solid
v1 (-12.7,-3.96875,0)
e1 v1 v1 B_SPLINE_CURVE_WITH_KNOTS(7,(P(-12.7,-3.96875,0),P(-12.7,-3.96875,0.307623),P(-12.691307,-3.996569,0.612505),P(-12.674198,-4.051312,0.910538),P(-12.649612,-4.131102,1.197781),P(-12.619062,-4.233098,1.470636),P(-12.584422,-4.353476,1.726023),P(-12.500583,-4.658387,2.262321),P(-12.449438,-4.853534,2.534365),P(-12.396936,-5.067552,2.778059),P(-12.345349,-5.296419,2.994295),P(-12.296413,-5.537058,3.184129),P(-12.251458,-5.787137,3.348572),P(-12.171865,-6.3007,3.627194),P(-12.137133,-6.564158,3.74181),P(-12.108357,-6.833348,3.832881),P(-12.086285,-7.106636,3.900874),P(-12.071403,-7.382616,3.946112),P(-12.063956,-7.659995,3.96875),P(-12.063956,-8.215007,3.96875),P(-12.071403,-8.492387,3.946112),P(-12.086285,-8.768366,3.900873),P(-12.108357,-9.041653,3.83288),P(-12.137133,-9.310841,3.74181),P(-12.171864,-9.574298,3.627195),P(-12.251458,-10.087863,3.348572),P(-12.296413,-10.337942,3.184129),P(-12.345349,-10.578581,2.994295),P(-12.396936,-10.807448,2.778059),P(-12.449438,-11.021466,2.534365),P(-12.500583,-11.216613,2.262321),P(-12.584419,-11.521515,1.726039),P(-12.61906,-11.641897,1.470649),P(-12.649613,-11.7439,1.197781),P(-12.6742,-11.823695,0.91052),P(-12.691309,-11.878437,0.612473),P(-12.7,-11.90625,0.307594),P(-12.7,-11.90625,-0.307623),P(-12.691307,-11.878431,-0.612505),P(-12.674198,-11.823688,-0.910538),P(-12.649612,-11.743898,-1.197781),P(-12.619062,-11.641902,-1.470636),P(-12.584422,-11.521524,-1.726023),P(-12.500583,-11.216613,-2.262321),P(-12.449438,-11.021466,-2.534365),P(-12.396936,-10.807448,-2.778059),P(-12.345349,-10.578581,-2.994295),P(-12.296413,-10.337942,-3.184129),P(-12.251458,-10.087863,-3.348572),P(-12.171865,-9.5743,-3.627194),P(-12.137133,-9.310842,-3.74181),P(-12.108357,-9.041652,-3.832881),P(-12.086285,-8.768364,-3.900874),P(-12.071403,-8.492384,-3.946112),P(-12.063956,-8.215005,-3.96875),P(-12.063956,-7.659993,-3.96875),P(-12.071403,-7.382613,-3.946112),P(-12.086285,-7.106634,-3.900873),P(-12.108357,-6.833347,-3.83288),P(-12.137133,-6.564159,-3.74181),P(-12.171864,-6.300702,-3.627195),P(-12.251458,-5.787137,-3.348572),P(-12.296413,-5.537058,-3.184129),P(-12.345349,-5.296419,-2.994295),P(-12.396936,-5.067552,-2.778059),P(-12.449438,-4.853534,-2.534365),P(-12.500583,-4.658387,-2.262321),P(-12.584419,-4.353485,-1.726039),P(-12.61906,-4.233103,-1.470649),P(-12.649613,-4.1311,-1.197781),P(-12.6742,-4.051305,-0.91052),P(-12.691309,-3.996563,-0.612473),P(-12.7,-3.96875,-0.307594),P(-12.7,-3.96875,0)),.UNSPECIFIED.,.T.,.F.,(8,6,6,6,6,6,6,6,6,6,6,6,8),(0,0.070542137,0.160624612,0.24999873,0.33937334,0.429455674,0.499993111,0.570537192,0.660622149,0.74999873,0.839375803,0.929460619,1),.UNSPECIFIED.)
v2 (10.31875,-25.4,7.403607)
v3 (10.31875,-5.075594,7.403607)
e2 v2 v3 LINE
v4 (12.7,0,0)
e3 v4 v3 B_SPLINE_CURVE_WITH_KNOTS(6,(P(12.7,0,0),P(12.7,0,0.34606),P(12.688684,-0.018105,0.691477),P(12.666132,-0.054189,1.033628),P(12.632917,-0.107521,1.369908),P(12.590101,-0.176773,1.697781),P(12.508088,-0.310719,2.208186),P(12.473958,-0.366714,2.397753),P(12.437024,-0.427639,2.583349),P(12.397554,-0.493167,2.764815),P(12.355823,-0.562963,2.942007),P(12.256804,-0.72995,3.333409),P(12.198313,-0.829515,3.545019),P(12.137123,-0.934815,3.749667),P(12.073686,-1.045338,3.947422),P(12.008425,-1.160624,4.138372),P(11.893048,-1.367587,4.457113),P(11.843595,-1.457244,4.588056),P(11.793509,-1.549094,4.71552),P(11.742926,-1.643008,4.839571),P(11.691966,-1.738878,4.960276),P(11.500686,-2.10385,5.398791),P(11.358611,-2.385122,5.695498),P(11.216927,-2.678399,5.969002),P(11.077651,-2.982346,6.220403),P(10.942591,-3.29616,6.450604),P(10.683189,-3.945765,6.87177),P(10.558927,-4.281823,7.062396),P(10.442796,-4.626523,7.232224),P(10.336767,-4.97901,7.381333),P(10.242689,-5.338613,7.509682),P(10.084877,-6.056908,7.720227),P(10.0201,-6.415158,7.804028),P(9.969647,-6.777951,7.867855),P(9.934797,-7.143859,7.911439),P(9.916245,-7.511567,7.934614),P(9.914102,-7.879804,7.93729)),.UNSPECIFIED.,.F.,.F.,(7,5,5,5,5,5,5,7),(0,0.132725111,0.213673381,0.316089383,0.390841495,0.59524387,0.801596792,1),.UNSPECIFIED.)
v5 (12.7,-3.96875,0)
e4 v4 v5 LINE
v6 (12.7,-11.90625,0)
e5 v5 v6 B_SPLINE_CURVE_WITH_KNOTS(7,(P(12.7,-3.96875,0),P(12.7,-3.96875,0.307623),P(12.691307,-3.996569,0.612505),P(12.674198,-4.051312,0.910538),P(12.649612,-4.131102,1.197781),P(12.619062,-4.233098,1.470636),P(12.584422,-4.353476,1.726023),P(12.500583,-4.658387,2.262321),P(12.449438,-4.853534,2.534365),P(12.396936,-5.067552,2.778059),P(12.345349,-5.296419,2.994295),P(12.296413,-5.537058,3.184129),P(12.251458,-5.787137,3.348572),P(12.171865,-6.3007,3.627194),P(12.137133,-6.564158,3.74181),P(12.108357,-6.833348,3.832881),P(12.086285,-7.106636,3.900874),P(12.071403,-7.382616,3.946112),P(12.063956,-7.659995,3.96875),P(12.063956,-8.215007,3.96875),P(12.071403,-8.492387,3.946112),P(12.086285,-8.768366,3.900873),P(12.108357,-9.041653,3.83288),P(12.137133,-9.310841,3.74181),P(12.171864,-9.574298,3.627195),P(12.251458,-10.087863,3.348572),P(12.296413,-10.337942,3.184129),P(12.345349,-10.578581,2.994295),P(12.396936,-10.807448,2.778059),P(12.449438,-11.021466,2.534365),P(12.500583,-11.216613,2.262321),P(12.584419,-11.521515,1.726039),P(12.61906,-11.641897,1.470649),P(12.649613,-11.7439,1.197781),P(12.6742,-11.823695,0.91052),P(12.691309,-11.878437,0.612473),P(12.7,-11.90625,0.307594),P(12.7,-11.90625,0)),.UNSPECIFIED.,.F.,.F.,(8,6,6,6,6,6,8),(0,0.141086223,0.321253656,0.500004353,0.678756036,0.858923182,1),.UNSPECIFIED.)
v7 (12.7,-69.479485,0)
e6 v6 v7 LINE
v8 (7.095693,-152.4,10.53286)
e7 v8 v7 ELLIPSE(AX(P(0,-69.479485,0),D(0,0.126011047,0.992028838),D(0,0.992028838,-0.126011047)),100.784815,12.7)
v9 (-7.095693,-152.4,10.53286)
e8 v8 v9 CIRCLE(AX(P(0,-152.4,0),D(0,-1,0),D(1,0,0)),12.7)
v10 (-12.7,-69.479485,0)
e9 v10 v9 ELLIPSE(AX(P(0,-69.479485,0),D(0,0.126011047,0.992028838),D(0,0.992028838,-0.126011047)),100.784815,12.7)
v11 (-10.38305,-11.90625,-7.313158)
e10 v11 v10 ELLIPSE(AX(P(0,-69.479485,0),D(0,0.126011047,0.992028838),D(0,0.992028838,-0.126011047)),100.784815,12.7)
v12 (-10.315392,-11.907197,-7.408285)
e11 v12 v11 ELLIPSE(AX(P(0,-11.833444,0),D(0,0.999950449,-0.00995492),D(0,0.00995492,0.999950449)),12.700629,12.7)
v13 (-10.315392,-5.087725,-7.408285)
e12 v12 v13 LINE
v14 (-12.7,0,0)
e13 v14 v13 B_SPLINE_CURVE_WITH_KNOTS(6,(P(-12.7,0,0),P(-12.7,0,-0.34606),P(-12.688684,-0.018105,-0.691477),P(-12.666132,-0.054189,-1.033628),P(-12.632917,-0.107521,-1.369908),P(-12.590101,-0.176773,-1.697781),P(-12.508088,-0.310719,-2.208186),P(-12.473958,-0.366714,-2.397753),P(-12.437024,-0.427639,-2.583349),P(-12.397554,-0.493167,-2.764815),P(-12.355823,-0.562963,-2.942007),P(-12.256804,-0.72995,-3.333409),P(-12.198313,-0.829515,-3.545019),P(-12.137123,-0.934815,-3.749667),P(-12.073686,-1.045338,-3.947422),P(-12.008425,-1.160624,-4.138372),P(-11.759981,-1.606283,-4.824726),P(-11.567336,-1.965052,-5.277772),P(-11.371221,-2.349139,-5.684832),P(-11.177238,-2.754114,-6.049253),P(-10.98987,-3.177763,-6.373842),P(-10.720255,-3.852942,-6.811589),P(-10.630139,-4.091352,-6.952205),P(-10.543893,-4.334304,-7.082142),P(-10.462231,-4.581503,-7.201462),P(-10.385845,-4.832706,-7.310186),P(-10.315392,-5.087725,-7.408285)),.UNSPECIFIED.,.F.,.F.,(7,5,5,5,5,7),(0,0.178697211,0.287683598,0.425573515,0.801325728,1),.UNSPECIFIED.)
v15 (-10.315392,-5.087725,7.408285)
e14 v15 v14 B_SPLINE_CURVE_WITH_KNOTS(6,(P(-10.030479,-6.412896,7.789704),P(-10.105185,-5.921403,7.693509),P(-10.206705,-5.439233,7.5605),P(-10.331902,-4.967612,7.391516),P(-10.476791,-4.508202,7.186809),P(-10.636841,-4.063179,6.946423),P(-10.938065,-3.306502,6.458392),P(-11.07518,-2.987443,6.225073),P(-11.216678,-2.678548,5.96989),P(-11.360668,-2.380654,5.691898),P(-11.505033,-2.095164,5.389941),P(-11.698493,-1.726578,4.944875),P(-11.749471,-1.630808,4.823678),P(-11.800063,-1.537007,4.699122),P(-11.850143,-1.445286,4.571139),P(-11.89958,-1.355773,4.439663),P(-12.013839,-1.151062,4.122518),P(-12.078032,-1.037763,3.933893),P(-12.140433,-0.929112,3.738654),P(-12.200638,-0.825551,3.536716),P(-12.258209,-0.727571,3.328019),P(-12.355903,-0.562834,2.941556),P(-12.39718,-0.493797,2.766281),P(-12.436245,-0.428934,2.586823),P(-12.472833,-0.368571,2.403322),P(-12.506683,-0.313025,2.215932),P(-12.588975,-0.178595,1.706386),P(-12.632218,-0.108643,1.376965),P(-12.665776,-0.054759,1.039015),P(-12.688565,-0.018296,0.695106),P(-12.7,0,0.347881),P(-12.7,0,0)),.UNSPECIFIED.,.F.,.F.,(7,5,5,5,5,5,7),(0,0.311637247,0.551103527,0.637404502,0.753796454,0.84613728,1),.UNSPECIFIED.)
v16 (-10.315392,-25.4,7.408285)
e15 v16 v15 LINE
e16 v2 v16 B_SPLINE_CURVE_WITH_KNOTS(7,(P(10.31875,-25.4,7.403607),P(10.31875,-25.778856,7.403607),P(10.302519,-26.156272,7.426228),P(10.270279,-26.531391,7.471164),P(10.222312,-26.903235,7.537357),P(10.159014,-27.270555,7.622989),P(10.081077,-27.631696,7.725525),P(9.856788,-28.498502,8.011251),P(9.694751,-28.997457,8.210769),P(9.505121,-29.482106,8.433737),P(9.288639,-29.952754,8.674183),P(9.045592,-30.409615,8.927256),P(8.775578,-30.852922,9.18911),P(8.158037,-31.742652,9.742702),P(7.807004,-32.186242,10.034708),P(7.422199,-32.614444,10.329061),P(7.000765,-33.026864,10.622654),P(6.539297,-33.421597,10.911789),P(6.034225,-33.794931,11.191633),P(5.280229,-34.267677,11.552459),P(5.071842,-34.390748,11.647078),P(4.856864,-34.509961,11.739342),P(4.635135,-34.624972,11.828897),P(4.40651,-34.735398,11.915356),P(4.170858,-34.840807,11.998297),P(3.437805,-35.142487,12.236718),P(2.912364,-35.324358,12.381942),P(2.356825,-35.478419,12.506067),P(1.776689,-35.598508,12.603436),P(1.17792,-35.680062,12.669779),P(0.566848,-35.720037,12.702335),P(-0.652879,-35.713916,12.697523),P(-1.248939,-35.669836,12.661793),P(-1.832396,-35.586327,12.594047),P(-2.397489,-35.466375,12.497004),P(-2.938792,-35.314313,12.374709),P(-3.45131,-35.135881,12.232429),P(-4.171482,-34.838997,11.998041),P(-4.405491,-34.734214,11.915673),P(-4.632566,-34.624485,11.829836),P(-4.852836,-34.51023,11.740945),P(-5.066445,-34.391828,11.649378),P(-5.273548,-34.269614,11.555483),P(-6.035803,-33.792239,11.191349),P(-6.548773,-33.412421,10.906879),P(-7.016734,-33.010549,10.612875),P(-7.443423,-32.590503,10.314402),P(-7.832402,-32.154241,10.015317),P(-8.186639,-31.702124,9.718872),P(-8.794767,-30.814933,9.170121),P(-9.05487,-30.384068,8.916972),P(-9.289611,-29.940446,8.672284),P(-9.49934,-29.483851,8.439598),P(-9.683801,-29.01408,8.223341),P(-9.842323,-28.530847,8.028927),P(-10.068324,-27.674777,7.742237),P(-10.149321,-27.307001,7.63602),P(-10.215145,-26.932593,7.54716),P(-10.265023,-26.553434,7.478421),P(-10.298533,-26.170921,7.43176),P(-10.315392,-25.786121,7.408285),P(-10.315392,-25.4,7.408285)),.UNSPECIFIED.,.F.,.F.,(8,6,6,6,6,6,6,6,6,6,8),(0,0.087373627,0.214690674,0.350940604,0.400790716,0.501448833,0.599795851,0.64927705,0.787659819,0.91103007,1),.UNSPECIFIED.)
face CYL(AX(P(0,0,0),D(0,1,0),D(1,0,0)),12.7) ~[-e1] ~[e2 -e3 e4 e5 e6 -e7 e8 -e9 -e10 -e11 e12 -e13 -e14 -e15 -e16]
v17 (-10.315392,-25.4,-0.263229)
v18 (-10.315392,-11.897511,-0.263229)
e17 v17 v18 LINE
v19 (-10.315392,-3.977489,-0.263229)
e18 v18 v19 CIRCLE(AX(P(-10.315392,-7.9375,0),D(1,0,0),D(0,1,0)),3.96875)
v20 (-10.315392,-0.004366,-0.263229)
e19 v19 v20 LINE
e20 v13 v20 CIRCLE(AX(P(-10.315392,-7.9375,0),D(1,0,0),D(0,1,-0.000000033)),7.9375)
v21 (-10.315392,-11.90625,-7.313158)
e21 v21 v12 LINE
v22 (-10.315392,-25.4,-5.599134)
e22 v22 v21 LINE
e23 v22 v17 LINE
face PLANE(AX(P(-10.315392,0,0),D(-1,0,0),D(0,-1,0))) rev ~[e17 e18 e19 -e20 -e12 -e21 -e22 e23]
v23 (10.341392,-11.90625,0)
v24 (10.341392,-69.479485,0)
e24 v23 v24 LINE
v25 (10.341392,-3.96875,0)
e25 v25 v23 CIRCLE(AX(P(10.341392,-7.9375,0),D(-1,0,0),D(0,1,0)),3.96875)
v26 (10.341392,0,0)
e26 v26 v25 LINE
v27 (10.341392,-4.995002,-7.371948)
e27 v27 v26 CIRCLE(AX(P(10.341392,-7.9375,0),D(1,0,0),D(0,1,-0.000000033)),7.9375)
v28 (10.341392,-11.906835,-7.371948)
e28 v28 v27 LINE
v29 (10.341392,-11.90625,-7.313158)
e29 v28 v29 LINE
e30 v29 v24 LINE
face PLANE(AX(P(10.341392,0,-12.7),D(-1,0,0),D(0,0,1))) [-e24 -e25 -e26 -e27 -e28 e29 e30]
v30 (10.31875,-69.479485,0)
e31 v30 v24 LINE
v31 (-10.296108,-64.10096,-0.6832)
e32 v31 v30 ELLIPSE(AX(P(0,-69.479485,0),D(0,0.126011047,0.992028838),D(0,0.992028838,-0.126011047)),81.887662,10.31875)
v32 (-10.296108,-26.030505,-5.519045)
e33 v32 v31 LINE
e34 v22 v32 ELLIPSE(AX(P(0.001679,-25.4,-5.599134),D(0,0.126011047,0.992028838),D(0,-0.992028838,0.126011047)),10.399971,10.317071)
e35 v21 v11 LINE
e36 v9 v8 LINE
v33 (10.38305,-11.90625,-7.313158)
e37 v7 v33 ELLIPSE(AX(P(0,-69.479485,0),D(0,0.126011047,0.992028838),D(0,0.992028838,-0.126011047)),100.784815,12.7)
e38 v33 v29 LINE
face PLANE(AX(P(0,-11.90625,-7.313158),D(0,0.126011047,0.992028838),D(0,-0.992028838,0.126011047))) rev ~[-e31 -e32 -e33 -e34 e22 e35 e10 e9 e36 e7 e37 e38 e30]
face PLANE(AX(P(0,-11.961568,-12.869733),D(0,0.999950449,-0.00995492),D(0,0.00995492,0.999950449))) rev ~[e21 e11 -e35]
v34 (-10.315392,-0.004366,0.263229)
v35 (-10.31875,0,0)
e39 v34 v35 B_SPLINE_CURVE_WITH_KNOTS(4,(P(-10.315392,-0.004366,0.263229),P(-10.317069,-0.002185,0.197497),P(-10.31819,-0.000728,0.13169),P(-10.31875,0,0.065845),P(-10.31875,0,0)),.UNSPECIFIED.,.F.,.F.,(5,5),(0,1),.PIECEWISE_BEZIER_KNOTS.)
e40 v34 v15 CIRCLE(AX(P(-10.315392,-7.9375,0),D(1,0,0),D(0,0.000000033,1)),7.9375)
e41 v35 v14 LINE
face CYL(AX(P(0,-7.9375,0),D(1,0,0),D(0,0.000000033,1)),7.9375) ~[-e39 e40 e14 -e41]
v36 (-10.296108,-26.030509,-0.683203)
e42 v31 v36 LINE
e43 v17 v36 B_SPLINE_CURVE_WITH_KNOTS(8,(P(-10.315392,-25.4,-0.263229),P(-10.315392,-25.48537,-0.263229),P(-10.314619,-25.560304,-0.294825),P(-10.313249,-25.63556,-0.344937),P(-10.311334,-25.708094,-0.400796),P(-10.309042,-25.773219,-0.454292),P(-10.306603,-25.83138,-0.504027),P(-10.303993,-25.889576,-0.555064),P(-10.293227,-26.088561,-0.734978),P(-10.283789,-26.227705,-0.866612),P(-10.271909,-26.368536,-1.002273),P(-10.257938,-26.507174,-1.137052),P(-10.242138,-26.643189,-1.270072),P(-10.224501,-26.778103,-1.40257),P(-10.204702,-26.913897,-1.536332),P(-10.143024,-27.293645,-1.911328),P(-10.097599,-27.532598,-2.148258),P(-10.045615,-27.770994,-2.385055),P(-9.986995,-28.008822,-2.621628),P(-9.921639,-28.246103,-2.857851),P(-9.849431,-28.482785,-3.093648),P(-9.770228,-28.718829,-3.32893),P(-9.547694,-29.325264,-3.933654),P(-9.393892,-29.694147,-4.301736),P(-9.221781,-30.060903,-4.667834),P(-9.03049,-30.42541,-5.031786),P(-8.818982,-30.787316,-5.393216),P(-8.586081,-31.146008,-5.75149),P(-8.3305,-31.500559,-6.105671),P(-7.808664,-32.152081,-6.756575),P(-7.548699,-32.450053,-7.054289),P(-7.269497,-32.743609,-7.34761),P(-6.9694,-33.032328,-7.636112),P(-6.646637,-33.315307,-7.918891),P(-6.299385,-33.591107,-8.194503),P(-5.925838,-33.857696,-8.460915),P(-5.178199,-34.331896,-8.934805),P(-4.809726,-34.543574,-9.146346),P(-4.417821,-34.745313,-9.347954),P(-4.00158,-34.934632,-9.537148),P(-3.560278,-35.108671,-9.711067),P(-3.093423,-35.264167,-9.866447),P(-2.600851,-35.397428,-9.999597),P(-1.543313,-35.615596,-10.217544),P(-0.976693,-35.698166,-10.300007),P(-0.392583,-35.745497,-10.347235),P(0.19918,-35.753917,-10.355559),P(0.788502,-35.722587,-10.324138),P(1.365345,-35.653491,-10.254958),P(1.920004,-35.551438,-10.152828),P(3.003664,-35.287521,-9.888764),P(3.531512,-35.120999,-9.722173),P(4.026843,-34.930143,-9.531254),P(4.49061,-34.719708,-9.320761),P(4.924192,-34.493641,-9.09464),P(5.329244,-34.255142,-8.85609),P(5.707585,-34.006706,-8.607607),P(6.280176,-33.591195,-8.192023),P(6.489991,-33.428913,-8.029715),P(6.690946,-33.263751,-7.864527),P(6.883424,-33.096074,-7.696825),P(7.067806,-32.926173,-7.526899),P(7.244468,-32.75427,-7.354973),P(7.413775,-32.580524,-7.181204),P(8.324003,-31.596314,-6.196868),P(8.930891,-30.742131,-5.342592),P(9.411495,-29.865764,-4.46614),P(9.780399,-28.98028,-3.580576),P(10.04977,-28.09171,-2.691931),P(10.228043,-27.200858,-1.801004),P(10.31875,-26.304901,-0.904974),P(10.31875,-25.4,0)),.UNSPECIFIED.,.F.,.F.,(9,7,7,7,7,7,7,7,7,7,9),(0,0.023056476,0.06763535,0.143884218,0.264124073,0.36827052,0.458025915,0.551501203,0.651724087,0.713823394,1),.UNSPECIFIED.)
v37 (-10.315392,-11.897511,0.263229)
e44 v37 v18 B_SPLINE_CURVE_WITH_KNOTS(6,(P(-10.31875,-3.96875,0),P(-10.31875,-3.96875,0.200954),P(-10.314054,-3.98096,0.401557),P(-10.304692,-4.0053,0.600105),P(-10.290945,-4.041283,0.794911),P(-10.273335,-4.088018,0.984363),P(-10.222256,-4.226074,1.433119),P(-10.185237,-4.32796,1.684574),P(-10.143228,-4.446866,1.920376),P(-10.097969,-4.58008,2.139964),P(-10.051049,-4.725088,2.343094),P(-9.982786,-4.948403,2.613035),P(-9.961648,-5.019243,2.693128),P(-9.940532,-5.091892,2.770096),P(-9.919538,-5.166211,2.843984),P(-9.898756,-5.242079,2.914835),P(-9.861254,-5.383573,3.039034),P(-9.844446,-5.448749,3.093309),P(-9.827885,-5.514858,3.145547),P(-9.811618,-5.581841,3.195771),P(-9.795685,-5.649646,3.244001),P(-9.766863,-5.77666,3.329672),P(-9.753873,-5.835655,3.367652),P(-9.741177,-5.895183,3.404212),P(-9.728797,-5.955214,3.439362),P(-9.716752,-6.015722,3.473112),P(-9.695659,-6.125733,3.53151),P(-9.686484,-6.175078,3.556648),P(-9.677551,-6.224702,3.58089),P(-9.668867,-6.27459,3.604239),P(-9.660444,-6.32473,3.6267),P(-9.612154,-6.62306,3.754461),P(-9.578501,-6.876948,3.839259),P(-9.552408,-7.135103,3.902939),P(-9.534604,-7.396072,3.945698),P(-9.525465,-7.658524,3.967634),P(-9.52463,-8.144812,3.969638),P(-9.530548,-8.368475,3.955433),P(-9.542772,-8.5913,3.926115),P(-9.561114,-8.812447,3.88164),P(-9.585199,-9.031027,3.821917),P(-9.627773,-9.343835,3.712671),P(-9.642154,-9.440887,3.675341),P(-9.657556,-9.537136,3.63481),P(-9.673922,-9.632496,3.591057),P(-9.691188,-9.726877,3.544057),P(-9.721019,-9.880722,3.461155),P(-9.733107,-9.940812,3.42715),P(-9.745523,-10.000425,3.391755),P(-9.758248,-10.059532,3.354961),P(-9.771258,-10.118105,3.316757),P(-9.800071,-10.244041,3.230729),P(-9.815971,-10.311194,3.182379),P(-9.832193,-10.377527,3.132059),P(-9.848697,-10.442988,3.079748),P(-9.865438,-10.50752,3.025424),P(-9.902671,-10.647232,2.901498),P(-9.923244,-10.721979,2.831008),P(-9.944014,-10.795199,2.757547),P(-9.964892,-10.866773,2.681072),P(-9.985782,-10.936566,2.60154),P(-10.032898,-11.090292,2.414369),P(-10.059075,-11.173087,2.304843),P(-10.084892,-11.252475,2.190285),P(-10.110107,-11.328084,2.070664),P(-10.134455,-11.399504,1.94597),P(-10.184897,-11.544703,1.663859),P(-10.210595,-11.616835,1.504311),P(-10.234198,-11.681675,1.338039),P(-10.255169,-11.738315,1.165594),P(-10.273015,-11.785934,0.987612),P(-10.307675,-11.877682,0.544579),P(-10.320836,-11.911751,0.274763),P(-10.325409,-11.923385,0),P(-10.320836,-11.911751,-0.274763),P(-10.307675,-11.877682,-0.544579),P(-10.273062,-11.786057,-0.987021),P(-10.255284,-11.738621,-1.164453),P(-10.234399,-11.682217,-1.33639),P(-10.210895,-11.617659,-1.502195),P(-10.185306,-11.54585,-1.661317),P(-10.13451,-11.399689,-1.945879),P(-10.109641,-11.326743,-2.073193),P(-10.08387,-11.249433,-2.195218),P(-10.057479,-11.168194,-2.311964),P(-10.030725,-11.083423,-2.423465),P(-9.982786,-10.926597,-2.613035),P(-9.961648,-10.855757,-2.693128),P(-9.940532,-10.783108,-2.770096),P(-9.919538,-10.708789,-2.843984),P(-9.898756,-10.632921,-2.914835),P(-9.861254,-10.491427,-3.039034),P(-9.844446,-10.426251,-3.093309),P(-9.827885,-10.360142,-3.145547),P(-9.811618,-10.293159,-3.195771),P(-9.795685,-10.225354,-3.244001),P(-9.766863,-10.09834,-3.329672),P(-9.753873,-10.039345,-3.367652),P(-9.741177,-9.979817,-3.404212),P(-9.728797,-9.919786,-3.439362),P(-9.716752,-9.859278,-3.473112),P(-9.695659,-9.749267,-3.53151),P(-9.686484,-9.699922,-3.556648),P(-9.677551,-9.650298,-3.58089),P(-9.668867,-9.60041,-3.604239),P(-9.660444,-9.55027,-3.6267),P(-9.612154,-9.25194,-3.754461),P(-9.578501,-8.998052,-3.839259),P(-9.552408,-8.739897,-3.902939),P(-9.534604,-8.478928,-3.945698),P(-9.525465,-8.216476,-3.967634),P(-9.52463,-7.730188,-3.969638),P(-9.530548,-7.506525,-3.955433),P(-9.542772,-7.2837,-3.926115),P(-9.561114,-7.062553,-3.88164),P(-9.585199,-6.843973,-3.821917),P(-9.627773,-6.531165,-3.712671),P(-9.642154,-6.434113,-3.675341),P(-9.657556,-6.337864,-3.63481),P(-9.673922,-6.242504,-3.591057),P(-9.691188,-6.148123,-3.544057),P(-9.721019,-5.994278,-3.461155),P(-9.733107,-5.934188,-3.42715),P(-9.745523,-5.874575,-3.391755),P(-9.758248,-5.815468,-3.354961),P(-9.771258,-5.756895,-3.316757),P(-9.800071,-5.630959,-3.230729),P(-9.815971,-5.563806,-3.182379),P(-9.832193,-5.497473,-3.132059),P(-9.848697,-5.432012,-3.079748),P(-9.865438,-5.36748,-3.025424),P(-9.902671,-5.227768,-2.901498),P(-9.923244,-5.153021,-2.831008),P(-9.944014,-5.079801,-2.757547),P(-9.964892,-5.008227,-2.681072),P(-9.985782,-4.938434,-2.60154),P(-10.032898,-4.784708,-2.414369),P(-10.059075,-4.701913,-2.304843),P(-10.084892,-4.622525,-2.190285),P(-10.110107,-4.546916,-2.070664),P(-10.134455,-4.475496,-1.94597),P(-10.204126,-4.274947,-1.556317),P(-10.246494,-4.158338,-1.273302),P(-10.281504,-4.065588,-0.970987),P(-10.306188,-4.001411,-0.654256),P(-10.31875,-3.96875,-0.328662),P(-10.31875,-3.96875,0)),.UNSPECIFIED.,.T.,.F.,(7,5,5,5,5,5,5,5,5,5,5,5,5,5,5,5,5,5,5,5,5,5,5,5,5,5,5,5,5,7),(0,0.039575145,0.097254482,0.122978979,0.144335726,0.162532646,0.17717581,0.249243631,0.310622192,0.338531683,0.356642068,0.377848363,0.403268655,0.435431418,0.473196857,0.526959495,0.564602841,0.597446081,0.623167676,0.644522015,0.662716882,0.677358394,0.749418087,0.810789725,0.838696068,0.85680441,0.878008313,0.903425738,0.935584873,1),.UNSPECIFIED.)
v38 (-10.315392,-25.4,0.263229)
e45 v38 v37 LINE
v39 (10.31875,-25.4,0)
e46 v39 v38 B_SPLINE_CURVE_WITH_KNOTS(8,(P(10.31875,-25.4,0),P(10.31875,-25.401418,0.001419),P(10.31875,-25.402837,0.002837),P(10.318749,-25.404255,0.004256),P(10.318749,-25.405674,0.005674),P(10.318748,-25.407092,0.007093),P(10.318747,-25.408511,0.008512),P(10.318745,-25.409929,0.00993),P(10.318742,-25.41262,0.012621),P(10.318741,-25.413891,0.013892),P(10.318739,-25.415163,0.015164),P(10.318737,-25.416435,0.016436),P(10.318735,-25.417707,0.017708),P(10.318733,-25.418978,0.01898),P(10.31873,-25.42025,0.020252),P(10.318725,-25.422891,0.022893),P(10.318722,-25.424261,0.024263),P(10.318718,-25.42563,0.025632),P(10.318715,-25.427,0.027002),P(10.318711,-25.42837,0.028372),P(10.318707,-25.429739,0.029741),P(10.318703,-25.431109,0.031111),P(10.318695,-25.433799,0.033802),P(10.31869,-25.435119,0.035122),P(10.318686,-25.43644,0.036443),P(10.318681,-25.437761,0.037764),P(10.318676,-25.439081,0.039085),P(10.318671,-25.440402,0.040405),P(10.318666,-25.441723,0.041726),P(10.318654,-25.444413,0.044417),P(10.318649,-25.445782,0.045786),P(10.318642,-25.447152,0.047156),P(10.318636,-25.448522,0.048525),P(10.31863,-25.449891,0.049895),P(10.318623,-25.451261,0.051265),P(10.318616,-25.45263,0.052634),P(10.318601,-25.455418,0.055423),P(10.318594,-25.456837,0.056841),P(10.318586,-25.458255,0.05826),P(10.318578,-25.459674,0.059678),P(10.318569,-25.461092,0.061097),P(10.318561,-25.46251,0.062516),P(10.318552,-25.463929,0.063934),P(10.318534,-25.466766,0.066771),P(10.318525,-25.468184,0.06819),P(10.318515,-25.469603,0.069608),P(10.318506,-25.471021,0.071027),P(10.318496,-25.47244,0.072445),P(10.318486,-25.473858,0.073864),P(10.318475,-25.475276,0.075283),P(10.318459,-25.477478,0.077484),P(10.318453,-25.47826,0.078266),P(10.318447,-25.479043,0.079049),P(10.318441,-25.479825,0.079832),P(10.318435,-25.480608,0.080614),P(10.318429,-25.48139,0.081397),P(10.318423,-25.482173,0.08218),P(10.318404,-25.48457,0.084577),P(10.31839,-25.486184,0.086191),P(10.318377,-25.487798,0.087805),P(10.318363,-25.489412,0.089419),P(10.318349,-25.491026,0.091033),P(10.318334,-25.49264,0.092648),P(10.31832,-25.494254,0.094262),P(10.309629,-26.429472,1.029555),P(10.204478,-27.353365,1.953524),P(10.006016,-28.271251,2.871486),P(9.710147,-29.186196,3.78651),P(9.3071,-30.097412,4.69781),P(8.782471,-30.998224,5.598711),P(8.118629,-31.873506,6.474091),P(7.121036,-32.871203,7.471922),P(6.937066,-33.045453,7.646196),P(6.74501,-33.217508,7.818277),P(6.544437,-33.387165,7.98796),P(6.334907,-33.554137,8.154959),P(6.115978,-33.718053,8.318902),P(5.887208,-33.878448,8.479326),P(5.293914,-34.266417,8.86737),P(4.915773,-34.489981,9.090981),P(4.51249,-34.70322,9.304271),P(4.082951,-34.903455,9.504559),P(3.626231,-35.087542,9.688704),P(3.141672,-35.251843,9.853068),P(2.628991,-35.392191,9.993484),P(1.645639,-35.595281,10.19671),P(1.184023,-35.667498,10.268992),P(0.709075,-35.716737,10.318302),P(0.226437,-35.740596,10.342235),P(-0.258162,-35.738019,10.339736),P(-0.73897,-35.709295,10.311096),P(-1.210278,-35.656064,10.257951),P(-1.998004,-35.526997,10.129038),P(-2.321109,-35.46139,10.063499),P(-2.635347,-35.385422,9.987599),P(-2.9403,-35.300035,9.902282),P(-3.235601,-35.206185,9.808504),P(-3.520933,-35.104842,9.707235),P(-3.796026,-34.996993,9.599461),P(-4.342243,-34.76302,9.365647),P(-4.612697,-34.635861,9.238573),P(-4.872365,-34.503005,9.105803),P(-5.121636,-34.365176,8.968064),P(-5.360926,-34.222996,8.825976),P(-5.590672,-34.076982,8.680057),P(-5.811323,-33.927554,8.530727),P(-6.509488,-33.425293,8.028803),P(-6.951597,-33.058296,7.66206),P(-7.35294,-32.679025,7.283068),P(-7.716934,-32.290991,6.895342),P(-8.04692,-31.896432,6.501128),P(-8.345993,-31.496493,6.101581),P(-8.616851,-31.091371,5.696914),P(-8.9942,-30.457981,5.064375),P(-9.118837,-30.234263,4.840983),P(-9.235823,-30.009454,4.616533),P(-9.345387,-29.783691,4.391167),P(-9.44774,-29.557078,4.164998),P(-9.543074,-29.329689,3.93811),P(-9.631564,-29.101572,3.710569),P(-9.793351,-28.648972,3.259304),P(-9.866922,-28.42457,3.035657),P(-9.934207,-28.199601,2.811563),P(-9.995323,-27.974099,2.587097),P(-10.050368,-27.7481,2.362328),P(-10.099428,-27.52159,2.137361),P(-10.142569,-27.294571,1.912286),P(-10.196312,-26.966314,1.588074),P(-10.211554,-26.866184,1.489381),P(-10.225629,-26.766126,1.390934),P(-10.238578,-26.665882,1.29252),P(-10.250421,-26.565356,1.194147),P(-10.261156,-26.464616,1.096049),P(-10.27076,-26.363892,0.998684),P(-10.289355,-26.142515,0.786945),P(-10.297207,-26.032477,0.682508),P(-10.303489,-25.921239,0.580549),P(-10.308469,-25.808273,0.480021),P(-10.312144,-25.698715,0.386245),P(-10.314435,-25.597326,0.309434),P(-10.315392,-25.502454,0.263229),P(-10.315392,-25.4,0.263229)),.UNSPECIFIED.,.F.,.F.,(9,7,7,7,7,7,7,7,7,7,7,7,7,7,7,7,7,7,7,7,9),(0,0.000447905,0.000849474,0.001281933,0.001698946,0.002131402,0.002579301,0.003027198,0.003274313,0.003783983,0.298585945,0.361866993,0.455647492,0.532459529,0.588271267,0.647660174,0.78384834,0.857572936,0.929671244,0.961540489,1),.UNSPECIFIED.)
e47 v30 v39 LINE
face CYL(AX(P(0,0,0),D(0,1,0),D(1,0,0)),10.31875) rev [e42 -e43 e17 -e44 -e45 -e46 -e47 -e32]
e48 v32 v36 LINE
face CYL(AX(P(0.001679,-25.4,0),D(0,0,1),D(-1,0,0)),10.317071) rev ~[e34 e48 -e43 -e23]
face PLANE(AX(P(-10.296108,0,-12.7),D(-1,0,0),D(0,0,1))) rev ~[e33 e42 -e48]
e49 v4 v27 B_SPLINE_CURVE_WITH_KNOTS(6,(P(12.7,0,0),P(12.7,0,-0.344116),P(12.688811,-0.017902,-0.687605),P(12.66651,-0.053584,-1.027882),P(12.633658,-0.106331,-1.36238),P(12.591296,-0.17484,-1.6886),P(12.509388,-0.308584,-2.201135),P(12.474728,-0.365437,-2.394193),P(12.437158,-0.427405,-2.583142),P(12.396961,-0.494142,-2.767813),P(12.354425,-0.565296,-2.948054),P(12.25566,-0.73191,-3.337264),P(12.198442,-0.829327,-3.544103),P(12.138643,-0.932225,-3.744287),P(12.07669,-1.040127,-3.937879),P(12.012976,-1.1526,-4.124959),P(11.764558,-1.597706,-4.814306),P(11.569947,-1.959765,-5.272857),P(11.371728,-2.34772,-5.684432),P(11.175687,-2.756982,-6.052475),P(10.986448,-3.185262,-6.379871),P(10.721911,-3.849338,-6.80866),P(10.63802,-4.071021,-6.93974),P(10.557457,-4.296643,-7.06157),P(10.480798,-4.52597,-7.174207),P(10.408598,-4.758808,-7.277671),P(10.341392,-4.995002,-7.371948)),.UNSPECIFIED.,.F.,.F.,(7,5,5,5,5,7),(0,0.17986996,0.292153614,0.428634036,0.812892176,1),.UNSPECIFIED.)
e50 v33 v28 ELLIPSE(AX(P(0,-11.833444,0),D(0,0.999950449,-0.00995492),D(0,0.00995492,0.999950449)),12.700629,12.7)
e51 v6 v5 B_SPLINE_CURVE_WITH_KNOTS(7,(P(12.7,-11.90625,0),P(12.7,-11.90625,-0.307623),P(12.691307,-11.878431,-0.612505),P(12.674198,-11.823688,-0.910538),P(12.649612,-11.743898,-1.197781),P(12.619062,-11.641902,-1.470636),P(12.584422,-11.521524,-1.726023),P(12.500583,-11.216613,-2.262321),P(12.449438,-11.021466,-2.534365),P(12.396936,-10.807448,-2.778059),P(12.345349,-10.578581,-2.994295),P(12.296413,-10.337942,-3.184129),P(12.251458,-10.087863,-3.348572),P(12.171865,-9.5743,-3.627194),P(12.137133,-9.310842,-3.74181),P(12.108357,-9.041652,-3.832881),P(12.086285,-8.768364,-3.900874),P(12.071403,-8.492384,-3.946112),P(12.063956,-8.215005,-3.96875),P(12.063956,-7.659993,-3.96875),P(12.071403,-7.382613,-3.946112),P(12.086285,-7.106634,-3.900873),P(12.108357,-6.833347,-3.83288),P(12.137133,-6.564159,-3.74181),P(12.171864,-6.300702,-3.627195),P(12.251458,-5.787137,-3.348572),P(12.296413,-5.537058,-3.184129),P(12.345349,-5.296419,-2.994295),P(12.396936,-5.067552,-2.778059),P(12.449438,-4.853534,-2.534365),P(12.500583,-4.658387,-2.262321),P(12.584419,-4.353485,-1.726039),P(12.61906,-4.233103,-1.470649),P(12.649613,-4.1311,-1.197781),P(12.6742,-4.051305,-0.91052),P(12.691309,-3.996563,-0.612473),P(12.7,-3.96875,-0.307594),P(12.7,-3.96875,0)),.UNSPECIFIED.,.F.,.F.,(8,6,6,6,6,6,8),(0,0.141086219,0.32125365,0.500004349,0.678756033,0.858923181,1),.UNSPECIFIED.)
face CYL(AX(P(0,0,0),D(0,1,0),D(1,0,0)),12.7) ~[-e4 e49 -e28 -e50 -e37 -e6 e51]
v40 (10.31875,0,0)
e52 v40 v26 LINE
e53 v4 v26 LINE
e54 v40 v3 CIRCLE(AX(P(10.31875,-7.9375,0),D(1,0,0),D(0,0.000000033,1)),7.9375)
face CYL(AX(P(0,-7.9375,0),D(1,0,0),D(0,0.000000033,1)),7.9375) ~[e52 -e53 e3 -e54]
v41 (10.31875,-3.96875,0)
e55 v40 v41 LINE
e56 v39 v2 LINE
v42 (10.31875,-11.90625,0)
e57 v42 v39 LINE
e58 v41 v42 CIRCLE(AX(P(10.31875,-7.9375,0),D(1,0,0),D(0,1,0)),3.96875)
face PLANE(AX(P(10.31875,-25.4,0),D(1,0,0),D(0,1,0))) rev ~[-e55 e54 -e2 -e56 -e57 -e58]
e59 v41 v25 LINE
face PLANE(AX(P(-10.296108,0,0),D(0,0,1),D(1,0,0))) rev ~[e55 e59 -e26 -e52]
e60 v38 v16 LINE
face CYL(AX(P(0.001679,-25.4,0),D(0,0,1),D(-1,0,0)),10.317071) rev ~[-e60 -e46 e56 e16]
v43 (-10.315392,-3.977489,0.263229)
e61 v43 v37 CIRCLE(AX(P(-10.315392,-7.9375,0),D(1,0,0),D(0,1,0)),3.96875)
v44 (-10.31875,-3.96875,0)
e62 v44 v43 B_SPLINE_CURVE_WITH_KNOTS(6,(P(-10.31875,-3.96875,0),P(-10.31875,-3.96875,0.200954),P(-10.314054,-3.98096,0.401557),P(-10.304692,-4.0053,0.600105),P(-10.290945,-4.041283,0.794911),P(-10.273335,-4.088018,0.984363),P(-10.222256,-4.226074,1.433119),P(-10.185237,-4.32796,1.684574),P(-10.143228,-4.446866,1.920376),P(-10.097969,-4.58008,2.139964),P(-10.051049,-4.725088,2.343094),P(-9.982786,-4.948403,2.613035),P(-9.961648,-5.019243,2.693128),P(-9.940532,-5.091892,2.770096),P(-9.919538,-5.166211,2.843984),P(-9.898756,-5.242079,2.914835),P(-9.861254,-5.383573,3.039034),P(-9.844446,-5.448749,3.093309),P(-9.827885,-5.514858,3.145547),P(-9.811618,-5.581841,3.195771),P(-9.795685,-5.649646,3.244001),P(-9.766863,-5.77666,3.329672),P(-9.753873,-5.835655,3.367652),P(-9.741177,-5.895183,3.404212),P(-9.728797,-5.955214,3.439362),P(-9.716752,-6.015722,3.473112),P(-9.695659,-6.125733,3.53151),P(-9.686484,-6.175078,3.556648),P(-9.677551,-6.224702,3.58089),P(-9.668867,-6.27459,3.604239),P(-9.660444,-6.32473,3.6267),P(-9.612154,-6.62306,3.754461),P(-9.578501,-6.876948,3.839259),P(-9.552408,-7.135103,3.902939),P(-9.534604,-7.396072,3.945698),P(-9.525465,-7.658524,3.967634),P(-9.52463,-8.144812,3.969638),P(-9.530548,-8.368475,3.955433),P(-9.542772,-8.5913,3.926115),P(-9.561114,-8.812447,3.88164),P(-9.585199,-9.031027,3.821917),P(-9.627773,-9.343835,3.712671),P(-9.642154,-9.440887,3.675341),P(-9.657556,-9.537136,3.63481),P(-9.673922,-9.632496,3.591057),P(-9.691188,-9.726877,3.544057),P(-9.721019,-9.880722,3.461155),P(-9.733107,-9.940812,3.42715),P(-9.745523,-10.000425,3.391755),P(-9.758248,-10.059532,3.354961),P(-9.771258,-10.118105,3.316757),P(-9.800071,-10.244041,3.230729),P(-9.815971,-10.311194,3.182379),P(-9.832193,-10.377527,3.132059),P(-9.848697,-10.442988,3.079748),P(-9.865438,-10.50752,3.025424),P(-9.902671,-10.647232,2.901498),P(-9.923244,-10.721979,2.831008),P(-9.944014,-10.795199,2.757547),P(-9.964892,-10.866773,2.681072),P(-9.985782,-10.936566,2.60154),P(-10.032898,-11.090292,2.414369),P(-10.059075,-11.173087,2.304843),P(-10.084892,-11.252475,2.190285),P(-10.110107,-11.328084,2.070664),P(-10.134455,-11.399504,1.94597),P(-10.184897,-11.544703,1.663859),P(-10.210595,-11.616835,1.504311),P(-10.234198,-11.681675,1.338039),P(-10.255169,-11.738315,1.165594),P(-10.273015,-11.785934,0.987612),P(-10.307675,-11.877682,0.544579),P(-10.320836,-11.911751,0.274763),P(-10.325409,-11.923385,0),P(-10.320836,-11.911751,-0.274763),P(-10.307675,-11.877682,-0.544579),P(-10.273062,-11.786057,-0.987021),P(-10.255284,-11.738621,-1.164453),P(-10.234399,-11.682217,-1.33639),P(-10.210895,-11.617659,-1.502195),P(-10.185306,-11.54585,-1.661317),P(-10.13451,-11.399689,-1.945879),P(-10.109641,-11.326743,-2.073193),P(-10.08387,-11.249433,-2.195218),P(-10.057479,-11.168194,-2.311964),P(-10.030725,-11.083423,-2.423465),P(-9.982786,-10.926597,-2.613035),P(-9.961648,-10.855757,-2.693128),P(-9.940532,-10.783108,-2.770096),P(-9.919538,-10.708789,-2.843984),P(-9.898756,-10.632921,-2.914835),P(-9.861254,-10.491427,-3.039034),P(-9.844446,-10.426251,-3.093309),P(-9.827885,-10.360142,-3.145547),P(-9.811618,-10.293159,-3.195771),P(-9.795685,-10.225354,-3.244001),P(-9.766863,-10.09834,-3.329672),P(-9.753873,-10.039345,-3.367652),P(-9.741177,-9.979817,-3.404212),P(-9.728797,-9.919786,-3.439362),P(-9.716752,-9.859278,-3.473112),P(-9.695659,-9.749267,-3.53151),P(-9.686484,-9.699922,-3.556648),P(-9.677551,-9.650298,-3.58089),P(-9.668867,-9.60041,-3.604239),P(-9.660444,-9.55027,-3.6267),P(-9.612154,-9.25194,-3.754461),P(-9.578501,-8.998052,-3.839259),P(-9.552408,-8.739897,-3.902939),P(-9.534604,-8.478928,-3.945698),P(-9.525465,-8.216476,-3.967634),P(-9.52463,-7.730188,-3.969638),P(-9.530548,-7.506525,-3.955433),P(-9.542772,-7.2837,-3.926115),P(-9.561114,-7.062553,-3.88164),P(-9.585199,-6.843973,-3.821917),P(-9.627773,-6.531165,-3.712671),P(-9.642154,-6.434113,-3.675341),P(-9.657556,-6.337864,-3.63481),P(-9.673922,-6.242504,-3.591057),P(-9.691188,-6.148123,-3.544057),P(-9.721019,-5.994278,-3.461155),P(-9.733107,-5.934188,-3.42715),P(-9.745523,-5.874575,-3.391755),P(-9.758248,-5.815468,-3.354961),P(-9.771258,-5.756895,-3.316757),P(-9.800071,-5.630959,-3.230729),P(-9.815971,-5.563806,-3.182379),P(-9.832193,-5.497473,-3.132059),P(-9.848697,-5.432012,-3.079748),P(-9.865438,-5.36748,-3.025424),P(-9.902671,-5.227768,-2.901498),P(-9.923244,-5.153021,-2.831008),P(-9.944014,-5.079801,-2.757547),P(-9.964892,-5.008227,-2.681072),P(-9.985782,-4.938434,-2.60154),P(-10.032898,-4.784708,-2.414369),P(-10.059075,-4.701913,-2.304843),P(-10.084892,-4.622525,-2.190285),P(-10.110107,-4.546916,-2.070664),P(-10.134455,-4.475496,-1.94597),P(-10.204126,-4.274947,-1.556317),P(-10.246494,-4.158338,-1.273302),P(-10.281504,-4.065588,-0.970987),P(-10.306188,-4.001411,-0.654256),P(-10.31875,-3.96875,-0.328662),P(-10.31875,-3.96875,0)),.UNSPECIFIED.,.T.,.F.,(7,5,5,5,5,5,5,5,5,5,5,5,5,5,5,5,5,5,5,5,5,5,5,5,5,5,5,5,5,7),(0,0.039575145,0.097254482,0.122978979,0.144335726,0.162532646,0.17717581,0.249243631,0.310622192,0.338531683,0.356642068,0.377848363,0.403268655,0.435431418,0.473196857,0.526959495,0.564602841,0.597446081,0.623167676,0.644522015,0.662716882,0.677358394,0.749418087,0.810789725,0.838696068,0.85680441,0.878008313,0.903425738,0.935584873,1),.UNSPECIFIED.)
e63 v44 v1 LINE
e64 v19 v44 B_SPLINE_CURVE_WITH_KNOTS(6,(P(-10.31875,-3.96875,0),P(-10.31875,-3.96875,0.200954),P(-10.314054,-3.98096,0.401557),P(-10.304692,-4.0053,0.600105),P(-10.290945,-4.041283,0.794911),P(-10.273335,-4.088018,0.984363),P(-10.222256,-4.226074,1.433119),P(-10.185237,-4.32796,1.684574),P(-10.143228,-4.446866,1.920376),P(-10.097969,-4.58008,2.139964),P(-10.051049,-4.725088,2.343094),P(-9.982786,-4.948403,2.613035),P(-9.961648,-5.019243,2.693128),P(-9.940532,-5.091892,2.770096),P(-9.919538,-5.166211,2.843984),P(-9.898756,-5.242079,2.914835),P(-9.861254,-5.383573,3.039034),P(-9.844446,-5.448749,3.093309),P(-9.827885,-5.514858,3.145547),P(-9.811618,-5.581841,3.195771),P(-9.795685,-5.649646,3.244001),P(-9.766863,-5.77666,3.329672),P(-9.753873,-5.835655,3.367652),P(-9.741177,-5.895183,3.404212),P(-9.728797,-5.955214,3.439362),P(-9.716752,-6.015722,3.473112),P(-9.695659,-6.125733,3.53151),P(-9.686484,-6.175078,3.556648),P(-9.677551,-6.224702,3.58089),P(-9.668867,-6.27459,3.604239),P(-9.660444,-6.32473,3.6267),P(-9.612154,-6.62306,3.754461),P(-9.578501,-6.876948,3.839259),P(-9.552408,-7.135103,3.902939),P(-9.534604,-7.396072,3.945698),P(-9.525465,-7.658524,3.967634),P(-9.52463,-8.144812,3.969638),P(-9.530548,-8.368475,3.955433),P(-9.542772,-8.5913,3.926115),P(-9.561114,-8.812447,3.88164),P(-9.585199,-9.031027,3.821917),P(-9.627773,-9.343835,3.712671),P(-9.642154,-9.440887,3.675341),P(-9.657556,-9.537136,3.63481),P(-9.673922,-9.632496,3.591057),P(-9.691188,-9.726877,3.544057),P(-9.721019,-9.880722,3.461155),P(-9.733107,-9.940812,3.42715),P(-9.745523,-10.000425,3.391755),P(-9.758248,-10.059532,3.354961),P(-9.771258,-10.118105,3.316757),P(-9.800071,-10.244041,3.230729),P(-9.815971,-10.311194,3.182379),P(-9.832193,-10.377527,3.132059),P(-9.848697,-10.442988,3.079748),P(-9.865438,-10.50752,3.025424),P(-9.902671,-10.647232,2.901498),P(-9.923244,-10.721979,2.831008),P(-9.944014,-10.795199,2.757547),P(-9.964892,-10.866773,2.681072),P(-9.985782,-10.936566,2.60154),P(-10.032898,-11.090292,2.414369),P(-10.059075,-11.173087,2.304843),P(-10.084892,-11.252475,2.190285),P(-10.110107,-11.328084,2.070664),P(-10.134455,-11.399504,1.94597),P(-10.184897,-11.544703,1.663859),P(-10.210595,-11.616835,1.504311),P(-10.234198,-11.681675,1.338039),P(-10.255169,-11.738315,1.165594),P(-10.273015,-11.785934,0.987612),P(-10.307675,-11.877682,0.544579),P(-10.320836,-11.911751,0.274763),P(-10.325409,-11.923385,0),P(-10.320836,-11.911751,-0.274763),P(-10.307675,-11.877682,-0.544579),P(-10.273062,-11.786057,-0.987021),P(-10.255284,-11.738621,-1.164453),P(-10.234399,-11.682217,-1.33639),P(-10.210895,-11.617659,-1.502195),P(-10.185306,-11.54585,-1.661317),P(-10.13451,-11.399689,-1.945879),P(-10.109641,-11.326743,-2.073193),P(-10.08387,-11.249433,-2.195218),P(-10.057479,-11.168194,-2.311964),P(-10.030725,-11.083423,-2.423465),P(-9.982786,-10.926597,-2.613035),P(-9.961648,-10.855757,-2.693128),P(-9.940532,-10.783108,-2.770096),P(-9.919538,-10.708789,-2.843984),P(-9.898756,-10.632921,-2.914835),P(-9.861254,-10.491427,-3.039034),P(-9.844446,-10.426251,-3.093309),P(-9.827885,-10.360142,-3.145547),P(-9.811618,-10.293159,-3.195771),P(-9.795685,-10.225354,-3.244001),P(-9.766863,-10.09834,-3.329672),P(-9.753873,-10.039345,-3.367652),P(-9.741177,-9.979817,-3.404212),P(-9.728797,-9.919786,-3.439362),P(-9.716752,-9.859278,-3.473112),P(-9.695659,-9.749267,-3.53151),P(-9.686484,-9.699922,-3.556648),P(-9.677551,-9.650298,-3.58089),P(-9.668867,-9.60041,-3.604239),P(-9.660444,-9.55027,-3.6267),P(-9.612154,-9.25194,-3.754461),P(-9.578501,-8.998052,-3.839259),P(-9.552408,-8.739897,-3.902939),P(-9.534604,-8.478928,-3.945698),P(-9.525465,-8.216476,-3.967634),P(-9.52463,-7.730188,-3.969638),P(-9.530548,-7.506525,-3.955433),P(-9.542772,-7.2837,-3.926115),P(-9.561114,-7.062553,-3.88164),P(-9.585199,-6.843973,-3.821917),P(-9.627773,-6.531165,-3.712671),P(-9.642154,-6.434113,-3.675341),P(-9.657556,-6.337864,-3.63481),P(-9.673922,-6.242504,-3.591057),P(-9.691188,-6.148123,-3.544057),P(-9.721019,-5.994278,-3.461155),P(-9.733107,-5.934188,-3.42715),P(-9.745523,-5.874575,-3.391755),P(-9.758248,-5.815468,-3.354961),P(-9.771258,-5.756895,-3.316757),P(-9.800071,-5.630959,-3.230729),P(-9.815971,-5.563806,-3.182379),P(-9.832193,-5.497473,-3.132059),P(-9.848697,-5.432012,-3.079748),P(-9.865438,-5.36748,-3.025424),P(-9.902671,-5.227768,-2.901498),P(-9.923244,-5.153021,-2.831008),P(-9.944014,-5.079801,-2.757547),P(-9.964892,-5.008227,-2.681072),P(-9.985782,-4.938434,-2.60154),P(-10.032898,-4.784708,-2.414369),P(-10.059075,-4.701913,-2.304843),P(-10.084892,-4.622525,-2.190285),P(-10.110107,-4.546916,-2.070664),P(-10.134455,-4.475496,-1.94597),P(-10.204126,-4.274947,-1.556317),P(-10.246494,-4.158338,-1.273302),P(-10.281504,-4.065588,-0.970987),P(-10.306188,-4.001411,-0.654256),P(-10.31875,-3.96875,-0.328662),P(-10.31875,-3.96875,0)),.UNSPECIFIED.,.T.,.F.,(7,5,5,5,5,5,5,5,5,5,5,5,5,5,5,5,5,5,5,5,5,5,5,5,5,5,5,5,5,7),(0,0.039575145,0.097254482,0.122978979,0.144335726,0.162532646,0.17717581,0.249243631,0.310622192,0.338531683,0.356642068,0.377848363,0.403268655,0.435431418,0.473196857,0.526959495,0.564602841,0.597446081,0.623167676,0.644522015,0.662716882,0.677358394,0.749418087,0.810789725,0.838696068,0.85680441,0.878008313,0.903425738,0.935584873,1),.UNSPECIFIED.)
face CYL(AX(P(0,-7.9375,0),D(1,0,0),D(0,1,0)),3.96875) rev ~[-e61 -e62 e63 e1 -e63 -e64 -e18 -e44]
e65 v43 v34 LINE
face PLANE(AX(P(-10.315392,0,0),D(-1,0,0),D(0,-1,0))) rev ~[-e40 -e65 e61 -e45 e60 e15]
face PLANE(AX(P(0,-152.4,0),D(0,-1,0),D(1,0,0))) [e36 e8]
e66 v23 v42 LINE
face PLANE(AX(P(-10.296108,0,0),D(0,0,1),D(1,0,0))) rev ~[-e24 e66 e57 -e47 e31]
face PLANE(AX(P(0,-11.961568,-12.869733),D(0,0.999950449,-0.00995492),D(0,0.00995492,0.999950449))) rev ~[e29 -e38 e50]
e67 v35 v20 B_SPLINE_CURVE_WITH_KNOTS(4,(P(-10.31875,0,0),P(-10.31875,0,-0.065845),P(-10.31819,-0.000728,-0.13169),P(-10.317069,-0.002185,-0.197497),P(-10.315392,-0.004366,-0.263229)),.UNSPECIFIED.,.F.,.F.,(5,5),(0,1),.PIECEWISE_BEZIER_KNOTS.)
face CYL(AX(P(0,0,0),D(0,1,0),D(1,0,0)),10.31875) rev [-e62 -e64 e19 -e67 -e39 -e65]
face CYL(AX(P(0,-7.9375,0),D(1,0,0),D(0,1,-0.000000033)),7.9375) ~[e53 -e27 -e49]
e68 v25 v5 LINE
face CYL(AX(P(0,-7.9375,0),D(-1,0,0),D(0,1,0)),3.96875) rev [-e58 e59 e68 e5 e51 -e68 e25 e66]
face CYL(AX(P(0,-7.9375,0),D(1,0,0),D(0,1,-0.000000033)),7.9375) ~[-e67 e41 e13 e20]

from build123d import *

# Parameters (mm, degrees)
F0_R          = 12.7
F0_R_2        = 10.31875
F1_DEPTH      = 152.4
F2_R          = 3.96875
F3_DEPTH      = 25.4
F3_DEPTH_BACK = 25.4
F5_DEPTH      = 12.7
F7_DEPTH      = 12.7
F8_W          = 20.6375
F8_H          = 12.7
F9_DEPTH      = 127
F11_DEPTH     = 12.7


with BuildPart() as f1:
    # F0 (on Front) → F1 (new body)
    with BuildSketch(Plane.XZ):
        Circle(F0_R)
        Circle(F0_R_2, mode=Mode.SUBTRACT)
    extrude(amount=F1_DEPTH)

    # F2 (on Right) → F3 (cut, two sides)
    with BuildSketch(Plane.YZ) as f3_sk:
        with Locations((-7.9375, 0)):
            Circle(F2_R)
    extrude(amount=F3_DEPTH, mode=Mode.SUBTRACT)
    extrude(f3_sk.sketch, amount=-F3_DEPTH_BACK, mode=Mode.SUBTRACT)

    # F4 (on Top) → F5 (cut, symmetric)
    with BuildSketch(Plane.XY):
        with BuildLine():
            Line((-10.315392, 0), (-10.315392, -25.4))
            ThreePointArc((-10.315392, -25.4), (0.001679, -35.717071), (10.31875, -25.4))
            Line((10.31875, -25.4), (10.31875, 0))
            Line((10.31875, 0), (-10.315392, 0))
        make_face()
    extrude(amount=F5_DEPTH, both=True, mode=Mode.SUBTRACT)

    # F6 (on Right) → F7 (cut, symmetric)
    with BuildSketch(Plane.YZ):
        Polygon((-11.90625, -7.313158), (-152.4, 10.53286), (-152.4, -12.869733), (-11.961568, -12.869733), align=None)
    extrude(amount=F7_DEPTH, both=True, mode=Mode.SUBTRACT)

    # F8 (on Front) → F9 (cut)
    with BuildSketch(Plane.XZ):
        with Locations((0.022642, -6.35)):
            Rectangle(F8_W, F8_H)
    extrude(amount=F9_DEPTH, mode=Mode.SUBTRACT)

    # F10 (on Right) → F11 (cut, symmetric)
    with BuildSketch(Plane.YZ):
        with BuildLine():
            ThreePointArc((-7.9375, 7.9375), (-2.32484, 5.61266), (0, 0))
            Line((0, 0), (0, 7.9375))
            Line((0, 7.9375), (-7.9375, 7.9375))
        make_face()
        with BuildLine():
            ThreePointArc((0, 0), (-2.32484, -5.61266), (-7.9375, -7.9375))
            Line((-7.9375, -7.9375), (0, -7.9375))
            Line((0, -7.9375), (0, 0))
        make_face()
    extrude(amount=F11_DEPTH, both=True, mode=Mode.SUBTRACT)


solid = f1.part
